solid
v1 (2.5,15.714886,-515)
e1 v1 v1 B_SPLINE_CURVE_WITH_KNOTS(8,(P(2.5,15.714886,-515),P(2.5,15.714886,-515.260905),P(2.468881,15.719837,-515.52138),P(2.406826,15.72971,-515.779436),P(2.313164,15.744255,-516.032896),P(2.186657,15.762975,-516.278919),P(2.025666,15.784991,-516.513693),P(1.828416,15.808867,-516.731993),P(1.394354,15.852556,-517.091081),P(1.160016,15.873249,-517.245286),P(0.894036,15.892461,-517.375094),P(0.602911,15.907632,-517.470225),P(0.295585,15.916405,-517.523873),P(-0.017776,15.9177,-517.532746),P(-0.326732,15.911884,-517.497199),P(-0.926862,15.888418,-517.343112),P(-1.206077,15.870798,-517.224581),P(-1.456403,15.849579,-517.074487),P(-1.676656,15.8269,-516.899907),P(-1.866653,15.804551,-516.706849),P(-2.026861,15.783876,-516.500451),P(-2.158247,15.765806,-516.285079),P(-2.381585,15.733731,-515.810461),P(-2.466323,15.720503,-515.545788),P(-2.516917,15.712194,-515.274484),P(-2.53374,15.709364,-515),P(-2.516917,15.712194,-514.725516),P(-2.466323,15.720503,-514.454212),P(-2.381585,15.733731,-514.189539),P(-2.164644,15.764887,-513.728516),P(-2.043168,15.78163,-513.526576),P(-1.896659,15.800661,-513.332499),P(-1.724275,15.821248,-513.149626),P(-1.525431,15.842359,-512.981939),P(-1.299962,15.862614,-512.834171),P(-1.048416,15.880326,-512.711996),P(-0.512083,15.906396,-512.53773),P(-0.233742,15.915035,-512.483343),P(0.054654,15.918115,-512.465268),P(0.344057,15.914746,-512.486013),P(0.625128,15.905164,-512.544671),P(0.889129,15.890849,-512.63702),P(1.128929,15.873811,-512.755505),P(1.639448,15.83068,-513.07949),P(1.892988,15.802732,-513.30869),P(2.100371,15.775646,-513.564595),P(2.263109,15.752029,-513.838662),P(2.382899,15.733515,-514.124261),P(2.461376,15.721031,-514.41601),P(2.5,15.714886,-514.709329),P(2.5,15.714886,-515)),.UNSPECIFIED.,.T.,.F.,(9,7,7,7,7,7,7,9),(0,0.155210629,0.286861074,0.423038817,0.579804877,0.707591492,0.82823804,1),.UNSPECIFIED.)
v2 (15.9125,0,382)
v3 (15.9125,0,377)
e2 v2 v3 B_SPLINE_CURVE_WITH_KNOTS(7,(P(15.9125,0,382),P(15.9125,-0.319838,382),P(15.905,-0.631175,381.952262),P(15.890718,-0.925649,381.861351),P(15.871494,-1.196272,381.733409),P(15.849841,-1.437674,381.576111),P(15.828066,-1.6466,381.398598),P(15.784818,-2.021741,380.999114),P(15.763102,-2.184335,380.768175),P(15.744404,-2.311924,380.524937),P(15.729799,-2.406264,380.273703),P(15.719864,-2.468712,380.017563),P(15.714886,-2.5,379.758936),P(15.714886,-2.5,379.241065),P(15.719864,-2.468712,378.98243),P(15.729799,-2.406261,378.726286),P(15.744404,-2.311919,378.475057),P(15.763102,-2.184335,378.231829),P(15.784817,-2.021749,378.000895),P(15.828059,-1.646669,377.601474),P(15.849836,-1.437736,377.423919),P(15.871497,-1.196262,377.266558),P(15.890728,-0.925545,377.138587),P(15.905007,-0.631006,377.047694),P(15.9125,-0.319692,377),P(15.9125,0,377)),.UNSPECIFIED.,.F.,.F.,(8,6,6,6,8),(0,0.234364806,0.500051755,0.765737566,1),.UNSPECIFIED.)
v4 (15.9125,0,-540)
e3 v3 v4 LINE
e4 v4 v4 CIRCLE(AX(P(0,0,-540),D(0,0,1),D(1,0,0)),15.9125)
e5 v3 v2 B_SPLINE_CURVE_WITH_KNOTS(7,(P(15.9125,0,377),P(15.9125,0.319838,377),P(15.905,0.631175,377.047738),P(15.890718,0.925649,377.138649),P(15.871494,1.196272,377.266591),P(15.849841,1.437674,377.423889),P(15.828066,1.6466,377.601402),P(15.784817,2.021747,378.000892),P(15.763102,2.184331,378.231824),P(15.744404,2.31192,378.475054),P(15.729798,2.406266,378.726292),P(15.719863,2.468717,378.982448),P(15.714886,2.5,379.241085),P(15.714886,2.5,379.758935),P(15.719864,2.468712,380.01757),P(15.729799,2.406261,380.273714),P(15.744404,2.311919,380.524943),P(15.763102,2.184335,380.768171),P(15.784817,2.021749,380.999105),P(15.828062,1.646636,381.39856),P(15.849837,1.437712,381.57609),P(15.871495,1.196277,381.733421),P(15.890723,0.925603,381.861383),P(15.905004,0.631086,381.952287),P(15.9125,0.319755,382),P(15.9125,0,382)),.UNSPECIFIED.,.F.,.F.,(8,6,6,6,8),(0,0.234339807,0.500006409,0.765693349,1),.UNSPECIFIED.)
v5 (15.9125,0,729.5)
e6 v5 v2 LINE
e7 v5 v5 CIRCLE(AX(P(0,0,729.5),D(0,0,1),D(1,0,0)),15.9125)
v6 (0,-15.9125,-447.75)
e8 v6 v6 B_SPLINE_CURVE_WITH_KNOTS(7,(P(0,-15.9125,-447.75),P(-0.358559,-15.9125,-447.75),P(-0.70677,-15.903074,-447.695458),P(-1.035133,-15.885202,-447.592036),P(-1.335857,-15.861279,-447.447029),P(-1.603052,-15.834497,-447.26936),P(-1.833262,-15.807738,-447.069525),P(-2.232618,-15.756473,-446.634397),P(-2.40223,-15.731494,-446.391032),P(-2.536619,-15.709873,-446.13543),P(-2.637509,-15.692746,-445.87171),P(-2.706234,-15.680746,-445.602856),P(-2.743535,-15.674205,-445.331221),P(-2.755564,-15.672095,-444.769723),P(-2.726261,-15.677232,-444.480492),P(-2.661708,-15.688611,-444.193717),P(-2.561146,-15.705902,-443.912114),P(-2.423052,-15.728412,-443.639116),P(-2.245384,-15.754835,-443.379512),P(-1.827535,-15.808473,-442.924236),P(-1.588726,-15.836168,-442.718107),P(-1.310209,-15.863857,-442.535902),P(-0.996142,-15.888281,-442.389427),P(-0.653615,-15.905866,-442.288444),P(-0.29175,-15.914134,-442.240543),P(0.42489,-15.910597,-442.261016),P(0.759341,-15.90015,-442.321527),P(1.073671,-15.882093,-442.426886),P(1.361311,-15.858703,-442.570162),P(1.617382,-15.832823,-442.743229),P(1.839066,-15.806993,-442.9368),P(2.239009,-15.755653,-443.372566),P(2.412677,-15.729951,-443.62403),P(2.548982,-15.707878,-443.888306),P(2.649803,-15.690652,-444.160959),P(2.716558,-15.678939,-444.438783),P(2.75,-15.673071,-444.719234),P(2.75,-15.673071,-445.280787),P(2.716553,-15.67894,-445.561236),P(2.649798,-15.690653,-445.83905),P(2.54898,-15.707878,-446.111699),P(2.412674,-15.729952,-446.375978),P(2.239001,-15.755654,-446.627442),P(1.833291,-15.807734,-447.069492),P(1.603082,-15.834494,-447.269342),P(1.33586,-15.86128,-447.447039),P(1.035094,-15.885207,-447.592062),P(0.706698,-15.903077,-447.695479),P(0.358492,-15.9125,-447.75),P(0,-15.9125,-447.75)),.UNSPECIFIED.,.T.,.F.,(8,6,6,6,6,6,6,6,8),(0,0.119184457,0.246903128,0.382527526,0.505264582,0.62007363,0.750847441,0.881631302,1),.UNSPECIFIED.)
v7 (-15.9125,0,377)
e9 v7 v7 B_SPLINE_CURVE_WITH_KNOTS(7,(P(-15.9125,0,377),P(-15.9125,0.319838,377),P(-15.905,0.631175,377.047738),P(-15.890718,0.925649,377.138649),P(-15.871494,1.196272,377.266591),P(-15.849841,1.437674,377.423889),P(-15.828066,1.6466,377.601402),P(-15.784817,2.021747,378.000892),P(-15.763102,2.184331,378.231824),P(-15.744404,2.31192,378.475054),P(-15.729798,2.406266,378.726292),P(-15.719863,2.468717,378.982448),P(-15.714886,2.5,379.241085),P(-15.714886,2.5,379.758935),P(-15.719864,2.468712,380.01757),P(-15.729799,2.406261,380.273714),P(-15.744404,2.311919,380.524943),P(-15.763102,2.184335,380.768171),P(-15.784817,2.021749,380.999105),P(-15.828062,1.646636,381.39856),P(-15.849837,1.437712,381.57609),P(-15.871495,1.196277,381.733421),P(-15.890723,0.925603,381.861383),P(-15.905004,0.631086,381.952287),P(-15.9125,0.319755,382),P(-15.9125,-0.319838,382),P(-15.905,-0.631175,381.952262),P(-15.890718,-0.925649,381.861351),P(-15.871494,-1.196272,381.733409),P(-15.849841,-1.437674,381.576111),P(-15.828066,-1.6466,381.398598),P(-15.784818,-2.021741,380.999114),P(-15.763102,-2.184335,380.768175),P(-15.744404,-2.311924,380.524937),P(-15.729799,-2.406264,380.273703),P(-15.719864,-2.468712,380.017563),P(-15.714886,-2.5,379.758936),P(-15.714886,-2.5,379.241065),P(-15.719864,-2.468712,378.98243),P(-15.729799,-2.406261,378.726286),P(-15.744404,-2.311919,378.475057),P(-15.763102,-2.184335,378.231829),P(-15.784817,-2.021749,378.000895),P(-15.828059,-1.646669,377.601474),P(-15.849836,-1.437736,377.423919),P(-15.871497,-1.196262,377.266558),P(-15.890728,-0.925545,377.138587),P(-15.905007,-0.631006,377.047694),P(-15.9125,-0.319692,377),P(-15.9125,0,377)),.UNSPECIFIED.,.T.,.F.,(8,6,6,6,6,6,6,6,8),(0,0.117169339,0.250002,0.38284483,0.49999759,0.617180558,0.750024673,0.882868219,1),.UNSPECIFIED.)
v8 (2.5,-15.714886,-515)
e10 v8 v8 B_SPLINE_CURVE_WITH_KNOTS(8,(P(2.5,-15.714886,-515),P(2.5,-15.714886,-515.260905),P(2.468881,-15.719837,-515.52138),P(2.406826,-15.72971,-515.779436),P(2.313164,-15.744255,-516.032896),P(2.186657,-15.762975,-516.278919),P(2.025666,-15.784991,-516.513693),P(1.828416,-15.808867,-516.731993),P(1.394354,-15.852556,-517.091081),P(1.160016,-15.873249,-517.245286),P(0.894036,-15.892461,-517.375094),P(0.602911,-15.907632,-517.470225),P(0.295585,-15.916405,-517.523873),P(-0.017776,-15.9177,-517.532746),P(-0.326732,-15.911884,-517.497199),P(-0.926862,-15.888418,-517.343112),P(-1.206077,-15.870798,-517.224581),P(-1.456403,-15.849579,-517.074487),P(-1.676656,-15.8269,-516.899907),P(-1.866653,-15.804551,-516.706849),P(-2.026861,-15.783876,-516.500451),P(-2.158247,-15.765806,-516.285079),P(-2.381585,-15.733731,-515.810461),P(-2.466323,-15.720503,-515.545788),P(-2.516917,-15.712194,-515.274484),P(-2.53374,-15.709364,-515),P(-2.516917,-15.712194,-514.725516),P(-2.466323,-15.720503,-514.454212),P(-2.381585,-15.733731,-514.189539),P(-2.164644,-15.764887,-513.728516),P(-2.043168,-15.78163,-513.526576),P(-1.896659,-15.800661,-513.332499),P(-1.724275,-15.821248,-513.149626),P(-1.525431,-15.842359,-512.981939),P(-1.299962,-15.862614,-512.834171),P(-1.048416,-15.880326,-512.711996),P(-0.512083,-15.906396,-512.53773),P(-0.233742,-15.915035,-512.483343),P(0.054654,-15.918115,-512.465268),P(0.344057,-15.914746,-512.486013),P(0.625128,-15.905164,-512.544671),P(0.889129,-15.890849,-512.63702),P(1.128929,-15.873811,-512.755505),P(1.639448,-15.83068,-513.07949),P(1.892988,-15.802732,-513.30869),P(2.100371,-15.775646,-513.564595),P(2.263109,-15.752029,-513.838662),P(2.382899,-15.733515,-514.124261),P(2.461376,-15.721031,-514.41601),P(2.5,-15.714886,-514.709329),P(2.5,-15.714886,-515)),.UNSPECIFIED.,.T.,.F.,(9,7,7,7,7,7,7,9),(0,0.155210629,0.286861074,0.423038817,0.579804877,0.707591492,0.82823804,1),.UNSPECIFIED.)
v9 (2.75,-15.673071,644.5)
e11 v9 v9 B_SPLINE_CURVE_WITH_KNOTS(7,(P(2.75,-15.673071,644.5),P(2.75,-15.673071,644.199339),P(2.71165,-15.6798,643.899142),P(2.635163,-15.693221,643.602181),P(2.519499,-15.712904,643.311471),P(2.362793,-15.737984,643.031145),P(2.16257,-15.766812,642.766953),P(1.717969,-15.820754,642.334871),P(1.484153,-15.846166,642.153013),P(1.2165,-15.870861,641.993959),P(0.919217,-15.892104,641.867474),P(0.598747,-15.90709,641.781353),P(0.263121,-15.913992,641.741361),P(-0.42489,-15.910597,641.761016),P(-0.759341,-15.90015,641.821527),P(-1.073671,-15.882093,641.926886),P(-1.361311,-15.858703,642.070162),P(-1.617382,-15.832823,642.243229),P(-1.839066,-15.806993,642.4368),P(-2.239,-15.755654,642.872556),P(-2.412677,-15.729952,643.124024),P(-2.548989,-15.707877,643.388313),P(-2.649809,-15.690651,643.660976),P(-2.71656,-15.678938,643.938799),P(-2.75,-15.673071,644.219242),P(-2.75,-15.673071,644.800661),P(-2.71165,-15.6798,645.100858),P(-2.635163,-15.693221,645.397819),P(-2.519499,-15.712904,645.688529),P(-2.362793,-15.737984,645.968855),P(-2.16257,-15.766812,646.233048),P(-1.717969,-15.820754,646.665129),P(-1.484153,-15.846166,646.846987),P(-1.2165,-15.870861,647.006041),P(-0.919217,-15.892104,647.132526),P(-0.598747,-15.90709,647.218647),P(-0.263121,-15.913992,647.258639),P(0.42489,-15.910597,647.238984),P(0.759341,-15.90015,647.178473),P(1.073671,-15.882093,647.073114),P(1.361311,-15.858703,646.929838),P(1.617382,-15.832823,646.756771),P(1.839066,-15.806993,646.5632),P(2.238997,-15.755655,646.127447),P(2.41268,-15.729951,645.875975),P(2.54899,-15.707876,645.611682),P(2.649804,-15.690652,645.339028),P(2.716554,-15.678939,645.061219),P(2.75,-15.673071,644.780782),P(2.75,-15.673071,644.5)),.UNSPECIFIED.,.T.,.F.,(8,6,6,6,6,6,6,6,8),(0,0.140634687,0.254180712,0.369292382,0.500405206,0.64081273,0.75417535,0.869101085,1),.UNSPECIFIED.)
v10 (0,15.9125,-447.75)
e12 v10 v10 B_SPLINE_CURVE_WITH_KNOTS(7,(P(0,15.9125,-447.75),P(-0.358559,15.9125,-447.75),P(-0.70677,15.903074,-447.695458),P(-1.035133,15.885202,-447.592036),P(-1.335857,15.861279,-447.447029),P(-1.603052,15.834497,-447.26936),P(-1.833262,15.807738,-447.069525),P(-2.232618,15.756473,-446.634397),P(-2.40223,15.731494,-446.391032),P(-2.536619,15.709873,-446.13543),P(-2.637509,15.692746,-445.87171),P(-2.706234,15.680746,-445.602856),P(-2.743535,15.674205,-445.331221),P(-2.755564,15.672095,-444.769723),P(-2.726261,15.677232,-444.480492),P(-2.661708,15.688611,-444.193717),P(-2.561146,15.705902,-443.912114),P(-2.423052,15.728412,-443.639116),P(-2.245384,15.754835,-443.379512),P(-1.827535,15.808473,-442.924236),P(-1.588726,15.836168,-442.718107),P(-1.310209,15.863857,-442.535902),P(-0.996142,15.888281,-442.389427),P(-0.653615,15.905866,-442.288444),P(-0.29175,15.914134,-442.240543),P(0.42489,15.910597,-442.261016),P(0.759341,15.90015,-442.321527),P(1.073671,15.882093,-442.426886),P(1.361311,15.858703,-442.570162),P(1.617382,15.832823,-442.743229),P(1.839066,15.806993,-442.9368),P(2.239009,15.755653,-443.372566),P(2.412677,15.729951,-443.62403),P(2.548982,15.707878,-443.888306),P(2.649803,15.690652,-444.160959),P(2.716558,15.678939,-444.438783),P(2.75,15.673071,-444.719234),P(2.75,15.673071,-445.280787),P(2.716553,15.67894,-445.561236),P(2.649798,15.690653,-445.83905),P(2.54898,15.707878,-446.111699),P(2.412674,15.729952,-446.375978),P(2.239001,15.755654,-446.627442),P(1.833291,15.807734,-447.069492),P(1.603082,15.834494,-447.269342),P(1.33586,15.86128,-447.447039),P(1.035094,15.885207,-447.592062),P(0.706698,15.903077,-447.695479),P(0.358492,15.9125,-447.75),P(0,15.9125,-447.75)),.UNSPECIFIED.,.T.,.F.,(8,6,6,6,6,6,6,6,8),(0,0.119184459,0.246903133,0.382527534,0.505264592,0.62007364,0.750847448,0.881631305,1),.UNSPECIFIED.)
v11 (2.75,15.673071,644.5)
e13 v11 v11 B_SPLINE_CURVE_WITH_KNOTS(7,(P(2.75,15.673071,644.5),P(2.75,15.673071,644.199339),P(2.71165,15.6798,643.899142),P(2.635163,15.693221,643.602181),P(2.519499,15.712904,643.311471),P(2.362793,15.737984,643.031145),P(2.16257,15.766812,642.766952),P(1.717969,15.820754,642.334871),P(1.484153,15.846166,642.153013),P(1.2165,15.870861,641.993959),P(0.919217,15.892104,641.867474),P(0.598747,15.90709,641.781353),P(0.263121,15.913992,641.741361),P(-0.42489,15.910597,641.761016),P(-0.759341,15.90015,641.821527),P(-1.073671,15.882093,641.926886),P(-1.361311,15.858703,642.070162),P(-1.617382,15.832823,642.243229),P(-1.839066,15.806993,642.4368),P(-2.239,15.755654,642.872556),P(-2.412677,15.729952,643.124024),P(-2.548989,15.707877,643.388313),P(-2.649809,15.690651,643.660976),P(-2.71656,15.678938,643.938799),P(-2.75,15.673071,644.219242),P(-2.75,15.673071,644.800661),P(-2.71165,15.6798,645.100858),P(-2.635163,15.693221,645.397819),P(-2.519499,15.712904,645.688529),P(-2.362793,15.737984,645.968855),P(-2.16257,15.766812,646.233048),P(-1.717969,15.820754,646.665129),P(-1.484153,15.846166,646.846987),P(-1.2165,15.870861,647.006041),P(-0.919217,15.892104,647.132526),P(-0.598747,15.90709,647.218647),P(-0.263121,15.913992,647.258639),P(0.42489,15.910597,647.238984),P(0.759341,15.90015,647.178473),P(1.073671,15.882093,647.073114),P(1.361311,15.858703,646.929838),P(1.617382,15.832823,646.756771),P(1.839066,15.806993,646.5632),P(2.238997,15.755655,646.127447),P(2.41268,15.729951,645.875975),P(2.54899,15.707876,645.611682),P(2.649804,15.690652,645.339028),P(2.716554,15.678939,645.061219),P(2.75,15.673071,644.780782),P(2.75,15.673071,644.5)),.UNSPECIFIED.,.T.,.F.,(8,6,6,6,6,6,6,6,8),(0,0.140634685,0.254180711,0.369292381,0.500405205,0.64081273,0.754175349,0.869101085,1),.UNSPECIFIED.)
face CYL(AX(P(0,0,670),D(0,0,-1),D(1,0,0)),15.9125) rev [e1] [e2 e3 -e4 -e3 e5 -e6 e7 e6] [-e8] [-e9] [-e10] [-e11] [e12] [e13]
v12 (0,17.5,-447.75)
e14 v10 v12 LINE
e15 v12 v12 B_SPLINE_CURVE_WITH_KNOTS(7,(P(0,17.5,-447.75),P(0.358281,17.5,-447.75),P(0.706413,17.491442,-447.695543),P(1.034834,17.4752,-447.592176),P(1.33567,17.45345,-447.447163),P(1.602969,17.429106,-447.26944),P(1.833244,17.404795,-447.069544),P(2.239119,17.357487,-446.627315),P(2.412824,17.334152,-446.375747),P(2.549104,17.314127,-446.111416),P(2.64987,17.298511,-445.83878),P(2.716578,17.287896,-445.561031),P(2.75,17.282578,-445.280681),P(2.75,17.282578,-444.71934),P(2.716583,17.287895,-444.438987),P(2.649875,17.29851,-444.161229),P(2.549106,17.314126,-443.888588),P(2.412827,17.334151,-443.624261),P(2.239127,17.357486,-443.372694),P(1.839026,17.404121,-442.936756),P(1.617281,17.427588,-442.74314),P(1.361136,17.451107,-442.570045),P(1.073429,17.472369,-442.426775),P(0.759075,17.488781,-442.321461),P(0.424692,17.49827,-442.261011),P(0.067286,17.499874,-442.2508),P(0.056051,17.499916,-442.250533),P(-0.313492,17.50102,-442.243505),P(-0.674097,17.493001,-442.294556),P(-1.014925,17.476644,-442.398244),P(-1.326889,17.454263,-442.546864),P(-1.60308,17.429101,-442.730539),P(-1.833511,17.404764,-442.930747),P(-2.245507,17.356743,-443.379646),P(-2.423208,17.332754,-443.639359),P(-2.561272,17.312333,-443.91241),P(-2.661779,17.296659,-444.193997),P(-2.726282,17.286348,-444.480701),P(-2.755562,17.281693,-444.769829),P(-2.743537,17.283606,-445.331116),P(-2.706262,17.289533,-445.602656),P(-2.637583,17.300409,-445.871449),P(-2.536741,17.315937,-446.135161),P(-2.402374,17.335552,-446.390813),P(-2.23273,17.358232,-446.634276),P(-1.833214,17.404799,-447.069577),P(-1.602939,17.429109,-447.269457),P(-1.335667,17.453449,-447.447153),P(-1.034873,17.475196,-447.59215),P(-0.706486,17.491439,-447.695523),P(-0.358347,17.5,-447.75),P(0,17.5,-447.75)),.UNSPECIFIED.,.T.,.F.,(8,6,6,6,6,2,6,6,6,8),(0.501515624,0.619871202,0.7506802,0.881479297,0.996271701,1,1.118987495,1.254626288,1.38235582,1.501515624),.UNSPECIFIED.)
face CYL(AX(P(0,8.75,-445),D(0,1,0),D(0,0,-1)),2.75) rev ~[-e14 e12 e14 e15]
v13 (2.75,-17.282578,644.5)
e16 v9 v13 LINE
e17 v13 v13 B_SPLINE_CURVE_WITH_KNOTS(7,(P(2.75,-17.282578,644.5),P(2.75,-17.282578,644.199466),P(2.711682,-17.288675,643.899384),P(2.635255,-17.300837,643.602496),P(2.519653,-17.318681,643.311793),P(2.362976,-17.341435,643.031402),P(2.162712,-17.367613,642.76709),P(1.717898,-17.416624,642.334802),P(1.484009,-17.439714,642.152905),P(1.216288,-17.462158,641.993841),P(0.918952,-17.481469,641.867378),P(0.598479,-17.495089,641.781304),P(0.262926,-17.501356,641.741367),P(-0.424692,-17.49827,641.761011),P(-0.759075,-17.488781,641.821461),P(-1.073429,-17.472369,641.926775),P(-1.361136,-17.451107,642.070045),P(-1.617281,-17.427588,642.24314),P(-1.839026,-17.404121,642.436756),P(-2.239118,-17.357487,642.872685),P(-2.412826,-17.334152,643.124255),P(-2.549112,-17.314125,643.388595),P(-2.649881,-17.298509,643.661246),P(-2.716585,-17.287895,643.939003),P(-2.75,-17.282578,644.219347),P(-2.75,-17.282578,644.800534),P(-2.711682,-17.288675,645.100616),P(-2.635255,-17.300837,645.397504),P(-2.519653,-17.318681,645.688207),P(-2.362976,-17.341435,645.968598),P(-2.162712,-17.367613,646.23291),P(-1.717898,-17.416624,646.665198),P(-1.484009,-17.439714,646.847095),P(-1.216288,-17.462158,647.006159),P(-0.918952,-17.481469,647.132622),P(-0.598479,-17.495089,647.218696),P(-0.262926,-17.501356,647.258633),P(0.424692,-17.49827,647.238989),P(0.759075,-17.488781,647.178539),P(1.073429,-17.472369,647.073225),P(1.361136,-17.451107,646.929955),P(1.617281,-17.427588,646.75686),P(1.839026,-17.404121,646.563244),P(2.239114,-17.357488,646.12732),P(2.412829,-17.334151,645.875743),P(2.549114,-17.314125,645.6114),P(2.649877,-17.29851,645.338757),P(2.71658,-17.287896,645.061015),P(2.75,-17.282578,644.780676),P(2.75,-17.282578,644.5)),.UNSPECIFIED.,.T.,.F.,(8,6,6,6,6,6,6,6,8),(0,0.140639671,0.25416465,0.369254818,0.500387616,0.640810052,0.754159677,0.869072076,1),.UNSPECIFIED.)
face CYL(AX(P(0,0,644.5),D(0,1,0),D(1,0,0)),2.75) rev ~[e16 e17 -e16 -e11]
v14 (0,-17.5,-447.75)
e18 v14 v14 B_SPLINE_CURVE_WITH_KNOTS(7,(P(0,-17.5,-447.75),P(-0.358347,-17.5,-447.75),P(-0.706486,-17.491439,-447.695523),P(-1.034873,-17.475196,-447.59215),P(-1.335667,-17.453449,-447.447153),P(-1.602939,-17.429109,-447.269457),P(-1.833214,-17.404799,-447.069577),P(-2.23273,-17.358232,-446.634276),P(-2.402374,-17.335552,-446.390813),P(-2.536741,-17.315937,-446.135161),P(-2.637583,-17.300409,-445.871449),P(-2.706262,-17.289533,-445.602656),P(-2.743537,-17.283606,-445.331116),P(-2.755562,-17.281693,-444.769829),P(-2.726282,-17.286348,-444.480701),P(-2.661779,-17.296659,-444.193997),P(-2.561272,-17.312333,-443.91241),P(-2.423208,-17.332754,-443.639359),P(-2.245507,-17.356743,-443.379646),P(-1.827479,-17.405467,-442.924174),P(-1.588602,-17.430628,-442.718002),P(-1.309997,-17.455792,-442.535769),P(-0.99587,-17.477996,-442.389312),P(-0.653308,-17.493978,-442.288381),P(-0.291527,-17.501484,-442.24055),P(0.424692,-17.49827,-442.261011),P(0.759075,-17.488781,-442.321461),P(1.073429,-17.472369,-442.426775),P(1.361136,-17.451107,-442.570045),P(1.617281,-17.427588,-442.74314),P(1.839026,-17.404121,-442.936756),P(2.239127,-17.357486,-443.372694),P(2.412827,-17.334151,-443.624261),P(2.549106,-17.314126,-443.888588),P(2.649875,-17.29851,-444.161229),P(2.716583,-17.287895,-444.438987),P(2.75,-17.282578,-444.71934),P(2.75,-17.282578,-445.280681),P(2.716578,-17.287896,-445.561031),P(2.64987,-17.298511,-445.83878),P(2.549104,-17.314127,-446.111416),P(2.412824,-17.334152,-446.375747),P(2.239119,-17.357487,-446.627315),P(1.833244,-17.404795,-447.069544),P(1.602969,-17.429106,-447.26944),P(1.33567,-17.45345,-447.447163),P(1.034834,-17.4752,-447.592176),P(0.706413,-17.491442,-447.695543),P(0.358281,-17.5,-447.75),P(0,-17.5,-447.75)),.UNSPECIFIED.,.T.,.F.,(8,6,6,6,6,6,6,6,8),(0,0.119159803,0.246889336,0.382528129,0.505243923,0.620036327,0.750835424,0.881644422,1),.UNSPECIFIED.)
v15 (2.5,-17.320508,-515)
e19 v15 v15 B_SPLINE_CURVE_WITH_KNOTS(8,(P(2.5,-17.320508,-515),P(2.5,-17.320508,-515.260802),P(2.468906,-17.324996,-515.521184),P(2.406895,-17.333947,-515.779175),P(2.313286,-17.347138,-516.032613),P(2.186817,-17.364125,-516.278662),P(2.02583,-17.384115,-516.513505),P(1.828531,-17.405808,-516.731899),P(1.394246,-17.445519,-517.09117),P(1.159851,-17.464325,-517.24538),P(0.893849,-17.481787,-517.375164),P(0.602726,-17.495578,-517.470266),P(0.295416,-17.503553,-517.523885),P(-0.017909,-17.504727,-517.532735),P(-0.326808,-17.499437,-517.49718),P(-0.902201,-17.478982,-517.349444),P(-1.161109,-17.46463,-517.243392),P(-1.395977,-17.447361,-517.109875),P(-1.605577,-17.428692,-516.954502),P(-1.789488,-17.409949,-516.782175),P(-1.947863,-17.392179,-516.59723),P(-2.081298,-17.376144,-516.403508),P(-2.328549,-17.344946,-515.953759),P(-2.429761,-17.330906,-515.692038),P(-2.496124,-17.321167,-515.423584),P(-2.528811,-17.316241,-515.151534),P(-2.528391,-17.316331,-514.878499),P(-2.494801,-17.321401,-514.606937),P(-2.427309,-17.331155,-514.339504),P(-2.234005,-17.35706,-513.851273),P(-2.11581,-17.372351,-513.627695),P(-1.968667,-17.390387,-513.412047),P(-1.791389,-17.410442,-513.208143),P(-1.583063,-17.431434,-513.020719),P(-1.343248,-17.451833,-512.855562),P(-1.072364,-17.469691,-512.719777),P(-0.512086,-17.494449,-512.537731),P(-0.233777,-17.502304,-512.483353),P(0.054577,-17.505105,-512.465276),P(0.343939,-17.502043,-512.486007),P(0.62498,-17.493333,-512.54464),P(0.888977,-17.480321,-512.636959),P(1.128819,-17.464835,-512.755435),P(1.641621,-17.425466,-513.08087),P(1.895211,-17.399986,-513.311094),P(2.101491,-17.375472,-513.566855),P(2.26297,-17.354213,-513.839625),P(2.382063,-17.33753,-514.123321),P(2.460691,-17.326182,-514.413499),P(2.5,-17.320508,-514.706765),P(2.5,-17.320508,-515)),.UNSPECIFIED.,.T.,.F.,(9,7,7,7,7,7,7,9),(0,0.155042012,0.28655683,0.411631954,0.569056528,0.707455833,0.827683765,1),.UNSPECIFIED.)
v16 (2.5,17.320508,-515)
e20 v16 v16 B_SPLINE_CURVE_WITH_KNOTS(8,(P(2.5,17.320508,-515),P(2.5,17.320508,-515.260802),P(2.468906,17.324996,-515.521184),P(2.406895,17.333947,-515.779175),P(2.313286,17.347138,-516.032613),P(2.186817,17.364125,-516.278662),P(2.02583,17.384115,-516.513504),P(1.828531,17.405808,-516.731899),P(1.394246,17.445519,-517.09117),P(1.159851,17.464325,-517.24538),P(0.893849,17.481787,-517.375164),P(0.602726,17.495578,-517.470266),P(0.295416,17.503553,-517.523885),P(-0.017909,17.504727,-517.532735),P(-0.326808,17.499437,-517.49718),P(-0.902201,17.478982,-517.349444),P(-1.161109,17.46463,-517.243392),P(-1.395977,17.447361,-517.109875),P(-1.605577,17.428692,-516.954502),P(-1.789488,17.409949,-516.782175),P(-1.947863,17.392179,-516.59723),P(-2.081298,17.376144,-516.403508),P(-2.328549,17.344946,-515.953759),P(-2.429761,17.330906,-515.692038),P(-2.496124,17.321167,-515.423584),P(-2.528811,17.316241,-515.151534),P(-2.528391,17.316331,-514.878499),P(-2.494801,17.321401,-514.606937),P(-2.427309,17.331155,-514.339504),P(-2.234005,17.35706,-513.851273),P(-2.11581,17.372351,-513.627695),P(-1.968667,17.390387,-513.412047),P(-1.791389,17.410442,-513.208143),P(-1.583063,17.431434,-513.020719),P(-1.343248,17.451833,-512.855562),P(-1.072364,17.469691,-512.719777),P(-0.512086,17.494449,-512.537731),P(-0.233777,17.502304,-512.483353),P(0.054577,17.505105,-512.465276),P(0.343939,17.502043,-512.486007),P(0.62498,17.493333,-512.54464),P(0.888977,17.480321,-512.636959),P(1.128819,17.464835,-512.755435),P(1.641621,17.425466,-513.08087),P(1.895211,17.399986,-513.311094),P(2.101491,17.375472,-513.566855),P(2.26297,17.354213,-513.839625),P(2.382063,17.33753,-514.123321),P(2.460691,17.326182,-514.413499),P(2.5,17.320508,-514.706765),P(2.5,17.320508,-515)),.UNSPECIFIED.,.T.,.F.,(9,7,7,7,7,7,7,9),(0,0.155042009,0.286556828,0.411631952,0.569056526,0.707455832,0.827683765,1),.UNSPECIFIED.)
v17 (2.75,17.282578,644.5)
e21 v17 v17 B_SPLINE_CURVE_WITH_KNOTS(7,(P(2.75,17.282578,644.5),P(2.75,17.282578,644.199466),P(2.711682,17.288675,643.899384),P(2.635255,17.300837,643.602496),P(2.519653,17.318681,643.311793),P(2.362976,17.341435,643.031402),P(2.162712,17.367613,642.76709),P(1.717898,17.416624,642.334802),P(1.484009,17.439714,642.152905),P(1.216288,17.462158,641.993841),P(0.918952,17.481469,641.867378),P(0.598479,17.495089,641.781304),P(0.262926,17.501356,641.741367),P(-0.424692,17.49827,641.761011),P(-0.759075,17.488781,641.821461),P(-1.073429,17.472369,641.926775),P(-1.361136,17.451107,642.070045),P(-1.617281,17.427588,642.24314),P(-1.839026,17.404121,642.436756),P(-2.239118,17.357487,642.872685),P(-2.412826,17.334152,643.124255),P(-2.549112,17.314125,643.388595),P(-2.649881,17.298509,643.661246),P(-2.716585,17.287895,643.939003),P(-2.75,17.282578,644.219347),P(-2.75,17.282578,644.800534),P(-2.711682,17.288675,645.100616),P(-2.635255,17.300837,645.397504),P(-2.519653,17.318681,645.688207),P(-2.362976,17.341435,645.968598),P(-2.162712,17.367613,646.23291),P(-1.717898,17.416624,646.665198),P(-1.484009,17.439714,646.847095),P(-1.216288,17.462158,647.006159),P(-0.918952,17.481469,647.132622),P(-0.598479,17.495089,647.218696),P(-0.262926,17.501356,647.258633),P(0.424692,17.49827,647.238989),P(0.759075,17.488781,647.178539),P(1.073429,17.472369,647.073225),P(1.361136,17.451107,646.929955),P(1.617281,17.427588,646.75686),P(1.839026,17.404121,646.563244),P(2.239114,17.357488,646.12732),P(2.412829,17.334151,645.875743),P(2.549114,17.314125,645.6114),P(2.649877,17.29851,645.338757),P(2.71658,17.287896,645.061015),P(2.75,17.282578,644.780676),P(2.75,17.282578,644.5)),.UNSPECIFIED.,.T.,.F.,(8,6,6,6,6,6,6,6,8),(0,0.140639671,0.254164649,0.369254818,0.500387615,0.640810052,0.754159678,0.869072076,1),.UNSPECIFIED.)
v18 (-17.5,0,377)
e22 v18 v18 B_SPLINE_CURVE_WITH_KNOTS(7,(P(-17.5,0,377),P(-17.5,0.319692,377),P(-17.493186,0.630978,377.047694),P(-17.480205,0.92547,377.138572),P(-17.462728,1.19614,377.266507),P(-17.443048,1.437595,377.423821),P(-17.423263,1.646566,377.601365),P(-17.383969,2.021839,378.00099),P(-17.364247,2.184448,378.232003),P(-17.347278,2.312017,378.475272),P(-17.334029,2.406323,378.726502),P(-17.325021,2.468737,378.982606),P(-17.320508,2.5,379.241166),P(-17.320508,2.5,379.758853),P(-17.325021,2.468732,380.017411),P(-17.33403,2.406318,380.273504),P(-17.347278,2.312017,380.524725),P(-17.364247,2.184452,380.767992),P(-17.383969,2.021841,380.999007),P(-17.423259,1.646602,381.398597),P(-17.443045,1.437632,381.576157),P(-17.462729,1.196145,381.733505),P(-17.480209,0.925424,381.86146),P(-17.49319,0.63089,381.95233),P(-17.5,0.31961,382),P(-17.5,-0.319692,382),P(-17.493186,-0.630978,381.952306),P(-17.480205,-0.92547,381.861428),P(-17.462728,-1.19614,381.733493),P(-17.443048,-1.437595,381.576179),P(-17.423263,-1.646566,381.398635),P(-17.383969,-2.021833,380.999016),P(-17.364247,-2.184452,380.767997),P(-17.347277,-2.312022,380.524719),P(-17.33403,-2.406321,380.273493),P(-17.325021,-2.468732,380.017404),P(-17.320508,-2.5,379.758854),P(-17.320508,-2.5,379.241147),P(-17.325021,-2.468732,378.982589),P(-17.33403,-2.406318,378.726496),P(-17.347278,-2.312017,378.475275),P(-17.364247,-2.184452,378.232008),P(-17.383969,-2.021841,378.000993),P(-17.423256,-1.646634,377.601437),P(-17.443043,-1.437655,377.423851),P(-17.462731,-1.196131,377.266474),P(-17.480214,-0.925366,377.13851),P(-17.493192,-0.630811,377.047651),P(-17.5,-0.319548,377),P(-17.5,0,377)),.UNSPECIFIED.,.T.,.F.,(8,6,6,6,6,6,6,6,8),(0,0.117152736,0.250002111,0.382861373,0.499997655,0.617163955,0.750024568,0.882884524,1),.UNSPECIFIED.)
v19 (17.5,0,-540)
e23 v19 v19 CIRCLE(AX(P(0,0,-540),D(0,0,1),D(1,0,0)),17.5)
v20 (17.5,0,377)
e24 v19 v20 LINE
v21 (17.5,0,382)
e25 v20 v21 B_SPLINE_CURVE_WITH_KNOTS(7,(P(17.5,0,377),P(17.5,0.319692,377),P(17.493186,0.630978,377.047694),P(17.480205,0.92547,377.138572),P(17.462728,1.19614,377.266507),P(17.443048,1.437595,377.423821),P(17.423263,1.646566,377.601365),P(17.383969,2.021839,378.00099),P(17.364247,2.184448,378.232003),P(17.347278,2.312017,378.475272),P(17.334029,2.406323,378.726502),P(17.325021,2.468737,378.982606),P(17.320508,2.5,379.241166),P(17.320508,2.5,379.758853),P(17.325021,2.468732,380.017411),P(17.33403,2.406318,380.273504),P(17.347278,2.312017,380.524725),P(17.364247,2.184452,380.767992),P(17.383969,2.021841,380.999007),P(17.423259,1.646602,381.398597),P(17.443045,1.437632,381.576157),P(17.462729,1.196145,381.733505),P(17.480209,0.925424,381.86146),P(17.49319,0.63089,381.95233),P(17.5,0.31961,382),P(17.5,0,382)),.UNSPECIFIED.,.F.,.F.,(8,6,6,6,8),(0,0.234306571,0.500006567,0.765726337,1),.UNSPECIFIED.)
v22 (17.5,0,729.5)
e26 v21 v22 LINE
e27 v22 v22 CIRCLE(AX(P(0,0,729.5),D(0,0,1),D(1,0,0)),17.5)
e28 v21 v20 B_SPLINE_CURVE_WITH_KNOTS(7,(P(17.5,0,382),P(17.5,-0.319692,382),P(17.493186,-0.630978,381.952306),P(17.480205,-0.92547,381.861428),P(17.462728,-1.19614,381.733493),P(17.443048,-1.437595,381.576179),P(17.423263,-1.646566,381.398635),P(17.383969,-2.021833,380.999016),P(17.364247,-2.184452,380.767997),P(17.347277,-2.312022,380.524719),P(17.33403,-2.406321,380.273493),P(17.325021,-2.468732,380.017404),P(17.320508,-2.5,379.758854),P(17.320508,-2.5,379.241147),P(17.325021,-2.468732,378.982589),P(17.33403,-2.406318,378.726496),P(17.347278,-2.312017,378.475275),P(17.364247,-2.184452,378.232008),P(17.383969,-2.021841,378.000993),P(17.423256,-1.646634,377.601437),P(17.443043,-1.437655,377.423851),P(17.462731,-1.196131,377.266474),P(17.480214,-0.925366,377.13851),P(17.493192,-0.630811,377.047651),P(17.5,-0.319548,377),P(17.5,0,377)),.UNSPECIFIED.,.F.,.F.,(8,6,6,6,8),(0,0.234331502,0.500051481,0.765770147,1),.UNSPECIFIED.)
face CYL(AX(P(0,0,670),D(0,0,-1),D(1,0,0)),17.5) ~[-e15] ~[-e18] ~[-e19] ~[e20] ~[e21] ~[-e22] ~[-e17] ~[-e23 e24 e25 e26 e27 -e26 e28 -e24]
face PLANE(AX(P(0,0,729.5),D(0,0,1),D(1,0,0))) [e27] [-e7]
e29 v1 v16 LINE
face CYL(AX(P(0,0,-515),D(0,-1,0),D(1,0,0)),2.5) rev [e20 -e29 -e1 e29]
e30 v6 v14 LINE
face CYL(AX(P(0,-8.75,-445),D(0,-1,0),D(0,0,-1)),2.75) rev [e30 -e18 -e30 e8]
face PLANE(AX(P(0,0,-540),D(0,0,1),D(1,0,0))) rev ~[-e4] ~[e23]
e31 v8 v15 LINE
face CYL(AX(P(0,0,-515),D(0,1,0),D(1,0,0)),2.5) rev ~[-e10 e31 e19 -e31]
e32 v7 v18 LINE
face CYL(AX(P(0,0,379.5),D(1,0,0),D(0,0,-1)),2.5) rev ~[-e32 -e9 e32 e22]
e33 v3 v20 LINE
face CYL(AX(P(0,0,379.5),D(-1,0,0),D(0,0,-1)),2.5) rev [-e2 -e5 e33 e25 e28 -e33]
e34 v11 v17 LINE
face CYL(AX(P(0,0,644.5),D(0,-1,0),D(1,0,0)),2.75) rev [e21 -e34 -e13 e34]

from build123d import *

# Parameters (mm, degrees)
SKETCH2_R               = 17.5
SKETCH2_R_2             = 15.9125
BOSS_EXTRUDE1_DEPTH     = 540
SKETCH6_W               = 2.75
SKETCH6_H               = 17.5
SKETCH7_R               = 17.5
SKETCH7_R_2             = 15.9125
BOSS_EXTRUDE2_DEPTH     = 130
SKETCH13_R              = 17.5
SKETCH13_R_2            = 15.9125
BOSS_EXTRUDE4_DEPTH     = 59.5
SKETCH12_R              = 2.75
CUT_EXTRUDE4_DEPTH      = 18.5000001
CUT_EXTRUDE4_DEPTH_BACK = 18.5000001
SKETCH14_R              = 2.5
CUT_EXTRUDE5_DEPTH      = 18.5000001
CUT_EXTRUDE5_DEPTH_BACK = 18.5000001
SKETCH15_R              = 2.5
CUT_EXTRUDE6_DEPTH      = 18.5000001
CUT_EXTRUDE6_DEPTH_BACK = 18.5000001


with BuildPart() as part:
    # Sketch2 → Boss-Extrude1 (new body, symmetric)
    with BuildSketch(Plane.XY):
        Circle(SKETCH2_R)
        Circle(SKETCH2_R_2, mode=Mode.SUBTRACT)
    extrude(amount=BOSS_EXTRUDE1_DEPTH, both=True)

    # Sketch6 → M5 Clearance Hole1 (revolve, cut)
    with BuildSketch(Plane(origin=(0, 0, -445), x_dir=(0, 0, -1), z_dir=(1, 0, 0))):
        with Locations((1.375, 8.75)):
            Rectangle(SKETCH6_W, SKETCH6_H)
    m5_clearance_hole1 = revolve(axis=Axis((0, -6.35, -445), (0, 1, 0)), mode=Mode.SUBTRACT)

    # Mirror1: M5 Clearance Hole1 across plane
    add(m5_clearance_hole1.mirror(Plane.ZX), mode=Mode.SUBTRACT)

    # Sketch7 → Boss-Extrude2 (add)
    with BuildSketch(Plane.XY.offset(540)):
        Circle(SKETCH7_R)
        Circle(SKETCH7_R_2, mode=Mode.SUBTRACT)
    extrude(amount=BOSS_EXTRUDE2_DEPTH)

    # Sketch13 → Boss-Extrude4 (add)
    with BuildSketch(Plane.XY.offset(670)):
        Circle(SKETCH13_R)
        Circle(SKETCH13_R_2, mode=Mode.SUBTRACT)
    extrude(amount=BOSS_EXTRUDE4_DEPTH)

    # Sketch12 → Cut-Extrude4 (cut, two sides)
    with BuildSketch(Plane(origin=(0, 0, 0), x_dir=(1, 0, 0), z_dir=(0, 1, 0))) as cut_extrude4_sk:
        with Locations((0, -644.5)):
            Circle(SKETCH12_R)
    extrude(amount=CUT_EXTRUDE4_DEPTH, mode=Mode.SUBTRACT)
    extrude(cut_extrude4_sk.sketch, amount=-CUT_EXTRUDE4_DEPTH_BACK, mode=Mode.SUBTRACT)

    # Sketch14 → Cut-Extrude5 (cut, two sides)
    with BuildSketch(Plane(origin=(0, 0, 0), x_dir=(1, 0, 0), z_dir=(0, 1, 0))) as cut_extrude5_sk:
        with Locations((0, 515)):
            Circle(SKETCH14_R)
    extrude(amount=CUT_EXTRUDE5_DEPTH, mode=Mode.SUBTRACT)
    extrude(cut_extrude5_sk.sketch, amount=-CUT_EXTRUDE5_DEPTH_BACK, mode=Mode.SUBTRACT)

    # Sketch15 → Cut-Extrude6 (cut, two sides)
    with BuildSketch(Plane(origin=(0, 0, 0), x_dir=(0, 0, -1), z_dir=(1, 0, 0))) as cut_extrude6_sk:
        with Locations((-379.5, 0)):
            Circle(SKETCH15_R)
    extrude(amount=CUT_EXTRUDE6_DEPTH, mode=Mode.SUBTRACT)
    extrude(cut_extrude6_sk.sketch, amount=-CUT_EXTRUDE6_DEPTH_BACK, mode=Mode.SUBTRACT)


solid = part.part
